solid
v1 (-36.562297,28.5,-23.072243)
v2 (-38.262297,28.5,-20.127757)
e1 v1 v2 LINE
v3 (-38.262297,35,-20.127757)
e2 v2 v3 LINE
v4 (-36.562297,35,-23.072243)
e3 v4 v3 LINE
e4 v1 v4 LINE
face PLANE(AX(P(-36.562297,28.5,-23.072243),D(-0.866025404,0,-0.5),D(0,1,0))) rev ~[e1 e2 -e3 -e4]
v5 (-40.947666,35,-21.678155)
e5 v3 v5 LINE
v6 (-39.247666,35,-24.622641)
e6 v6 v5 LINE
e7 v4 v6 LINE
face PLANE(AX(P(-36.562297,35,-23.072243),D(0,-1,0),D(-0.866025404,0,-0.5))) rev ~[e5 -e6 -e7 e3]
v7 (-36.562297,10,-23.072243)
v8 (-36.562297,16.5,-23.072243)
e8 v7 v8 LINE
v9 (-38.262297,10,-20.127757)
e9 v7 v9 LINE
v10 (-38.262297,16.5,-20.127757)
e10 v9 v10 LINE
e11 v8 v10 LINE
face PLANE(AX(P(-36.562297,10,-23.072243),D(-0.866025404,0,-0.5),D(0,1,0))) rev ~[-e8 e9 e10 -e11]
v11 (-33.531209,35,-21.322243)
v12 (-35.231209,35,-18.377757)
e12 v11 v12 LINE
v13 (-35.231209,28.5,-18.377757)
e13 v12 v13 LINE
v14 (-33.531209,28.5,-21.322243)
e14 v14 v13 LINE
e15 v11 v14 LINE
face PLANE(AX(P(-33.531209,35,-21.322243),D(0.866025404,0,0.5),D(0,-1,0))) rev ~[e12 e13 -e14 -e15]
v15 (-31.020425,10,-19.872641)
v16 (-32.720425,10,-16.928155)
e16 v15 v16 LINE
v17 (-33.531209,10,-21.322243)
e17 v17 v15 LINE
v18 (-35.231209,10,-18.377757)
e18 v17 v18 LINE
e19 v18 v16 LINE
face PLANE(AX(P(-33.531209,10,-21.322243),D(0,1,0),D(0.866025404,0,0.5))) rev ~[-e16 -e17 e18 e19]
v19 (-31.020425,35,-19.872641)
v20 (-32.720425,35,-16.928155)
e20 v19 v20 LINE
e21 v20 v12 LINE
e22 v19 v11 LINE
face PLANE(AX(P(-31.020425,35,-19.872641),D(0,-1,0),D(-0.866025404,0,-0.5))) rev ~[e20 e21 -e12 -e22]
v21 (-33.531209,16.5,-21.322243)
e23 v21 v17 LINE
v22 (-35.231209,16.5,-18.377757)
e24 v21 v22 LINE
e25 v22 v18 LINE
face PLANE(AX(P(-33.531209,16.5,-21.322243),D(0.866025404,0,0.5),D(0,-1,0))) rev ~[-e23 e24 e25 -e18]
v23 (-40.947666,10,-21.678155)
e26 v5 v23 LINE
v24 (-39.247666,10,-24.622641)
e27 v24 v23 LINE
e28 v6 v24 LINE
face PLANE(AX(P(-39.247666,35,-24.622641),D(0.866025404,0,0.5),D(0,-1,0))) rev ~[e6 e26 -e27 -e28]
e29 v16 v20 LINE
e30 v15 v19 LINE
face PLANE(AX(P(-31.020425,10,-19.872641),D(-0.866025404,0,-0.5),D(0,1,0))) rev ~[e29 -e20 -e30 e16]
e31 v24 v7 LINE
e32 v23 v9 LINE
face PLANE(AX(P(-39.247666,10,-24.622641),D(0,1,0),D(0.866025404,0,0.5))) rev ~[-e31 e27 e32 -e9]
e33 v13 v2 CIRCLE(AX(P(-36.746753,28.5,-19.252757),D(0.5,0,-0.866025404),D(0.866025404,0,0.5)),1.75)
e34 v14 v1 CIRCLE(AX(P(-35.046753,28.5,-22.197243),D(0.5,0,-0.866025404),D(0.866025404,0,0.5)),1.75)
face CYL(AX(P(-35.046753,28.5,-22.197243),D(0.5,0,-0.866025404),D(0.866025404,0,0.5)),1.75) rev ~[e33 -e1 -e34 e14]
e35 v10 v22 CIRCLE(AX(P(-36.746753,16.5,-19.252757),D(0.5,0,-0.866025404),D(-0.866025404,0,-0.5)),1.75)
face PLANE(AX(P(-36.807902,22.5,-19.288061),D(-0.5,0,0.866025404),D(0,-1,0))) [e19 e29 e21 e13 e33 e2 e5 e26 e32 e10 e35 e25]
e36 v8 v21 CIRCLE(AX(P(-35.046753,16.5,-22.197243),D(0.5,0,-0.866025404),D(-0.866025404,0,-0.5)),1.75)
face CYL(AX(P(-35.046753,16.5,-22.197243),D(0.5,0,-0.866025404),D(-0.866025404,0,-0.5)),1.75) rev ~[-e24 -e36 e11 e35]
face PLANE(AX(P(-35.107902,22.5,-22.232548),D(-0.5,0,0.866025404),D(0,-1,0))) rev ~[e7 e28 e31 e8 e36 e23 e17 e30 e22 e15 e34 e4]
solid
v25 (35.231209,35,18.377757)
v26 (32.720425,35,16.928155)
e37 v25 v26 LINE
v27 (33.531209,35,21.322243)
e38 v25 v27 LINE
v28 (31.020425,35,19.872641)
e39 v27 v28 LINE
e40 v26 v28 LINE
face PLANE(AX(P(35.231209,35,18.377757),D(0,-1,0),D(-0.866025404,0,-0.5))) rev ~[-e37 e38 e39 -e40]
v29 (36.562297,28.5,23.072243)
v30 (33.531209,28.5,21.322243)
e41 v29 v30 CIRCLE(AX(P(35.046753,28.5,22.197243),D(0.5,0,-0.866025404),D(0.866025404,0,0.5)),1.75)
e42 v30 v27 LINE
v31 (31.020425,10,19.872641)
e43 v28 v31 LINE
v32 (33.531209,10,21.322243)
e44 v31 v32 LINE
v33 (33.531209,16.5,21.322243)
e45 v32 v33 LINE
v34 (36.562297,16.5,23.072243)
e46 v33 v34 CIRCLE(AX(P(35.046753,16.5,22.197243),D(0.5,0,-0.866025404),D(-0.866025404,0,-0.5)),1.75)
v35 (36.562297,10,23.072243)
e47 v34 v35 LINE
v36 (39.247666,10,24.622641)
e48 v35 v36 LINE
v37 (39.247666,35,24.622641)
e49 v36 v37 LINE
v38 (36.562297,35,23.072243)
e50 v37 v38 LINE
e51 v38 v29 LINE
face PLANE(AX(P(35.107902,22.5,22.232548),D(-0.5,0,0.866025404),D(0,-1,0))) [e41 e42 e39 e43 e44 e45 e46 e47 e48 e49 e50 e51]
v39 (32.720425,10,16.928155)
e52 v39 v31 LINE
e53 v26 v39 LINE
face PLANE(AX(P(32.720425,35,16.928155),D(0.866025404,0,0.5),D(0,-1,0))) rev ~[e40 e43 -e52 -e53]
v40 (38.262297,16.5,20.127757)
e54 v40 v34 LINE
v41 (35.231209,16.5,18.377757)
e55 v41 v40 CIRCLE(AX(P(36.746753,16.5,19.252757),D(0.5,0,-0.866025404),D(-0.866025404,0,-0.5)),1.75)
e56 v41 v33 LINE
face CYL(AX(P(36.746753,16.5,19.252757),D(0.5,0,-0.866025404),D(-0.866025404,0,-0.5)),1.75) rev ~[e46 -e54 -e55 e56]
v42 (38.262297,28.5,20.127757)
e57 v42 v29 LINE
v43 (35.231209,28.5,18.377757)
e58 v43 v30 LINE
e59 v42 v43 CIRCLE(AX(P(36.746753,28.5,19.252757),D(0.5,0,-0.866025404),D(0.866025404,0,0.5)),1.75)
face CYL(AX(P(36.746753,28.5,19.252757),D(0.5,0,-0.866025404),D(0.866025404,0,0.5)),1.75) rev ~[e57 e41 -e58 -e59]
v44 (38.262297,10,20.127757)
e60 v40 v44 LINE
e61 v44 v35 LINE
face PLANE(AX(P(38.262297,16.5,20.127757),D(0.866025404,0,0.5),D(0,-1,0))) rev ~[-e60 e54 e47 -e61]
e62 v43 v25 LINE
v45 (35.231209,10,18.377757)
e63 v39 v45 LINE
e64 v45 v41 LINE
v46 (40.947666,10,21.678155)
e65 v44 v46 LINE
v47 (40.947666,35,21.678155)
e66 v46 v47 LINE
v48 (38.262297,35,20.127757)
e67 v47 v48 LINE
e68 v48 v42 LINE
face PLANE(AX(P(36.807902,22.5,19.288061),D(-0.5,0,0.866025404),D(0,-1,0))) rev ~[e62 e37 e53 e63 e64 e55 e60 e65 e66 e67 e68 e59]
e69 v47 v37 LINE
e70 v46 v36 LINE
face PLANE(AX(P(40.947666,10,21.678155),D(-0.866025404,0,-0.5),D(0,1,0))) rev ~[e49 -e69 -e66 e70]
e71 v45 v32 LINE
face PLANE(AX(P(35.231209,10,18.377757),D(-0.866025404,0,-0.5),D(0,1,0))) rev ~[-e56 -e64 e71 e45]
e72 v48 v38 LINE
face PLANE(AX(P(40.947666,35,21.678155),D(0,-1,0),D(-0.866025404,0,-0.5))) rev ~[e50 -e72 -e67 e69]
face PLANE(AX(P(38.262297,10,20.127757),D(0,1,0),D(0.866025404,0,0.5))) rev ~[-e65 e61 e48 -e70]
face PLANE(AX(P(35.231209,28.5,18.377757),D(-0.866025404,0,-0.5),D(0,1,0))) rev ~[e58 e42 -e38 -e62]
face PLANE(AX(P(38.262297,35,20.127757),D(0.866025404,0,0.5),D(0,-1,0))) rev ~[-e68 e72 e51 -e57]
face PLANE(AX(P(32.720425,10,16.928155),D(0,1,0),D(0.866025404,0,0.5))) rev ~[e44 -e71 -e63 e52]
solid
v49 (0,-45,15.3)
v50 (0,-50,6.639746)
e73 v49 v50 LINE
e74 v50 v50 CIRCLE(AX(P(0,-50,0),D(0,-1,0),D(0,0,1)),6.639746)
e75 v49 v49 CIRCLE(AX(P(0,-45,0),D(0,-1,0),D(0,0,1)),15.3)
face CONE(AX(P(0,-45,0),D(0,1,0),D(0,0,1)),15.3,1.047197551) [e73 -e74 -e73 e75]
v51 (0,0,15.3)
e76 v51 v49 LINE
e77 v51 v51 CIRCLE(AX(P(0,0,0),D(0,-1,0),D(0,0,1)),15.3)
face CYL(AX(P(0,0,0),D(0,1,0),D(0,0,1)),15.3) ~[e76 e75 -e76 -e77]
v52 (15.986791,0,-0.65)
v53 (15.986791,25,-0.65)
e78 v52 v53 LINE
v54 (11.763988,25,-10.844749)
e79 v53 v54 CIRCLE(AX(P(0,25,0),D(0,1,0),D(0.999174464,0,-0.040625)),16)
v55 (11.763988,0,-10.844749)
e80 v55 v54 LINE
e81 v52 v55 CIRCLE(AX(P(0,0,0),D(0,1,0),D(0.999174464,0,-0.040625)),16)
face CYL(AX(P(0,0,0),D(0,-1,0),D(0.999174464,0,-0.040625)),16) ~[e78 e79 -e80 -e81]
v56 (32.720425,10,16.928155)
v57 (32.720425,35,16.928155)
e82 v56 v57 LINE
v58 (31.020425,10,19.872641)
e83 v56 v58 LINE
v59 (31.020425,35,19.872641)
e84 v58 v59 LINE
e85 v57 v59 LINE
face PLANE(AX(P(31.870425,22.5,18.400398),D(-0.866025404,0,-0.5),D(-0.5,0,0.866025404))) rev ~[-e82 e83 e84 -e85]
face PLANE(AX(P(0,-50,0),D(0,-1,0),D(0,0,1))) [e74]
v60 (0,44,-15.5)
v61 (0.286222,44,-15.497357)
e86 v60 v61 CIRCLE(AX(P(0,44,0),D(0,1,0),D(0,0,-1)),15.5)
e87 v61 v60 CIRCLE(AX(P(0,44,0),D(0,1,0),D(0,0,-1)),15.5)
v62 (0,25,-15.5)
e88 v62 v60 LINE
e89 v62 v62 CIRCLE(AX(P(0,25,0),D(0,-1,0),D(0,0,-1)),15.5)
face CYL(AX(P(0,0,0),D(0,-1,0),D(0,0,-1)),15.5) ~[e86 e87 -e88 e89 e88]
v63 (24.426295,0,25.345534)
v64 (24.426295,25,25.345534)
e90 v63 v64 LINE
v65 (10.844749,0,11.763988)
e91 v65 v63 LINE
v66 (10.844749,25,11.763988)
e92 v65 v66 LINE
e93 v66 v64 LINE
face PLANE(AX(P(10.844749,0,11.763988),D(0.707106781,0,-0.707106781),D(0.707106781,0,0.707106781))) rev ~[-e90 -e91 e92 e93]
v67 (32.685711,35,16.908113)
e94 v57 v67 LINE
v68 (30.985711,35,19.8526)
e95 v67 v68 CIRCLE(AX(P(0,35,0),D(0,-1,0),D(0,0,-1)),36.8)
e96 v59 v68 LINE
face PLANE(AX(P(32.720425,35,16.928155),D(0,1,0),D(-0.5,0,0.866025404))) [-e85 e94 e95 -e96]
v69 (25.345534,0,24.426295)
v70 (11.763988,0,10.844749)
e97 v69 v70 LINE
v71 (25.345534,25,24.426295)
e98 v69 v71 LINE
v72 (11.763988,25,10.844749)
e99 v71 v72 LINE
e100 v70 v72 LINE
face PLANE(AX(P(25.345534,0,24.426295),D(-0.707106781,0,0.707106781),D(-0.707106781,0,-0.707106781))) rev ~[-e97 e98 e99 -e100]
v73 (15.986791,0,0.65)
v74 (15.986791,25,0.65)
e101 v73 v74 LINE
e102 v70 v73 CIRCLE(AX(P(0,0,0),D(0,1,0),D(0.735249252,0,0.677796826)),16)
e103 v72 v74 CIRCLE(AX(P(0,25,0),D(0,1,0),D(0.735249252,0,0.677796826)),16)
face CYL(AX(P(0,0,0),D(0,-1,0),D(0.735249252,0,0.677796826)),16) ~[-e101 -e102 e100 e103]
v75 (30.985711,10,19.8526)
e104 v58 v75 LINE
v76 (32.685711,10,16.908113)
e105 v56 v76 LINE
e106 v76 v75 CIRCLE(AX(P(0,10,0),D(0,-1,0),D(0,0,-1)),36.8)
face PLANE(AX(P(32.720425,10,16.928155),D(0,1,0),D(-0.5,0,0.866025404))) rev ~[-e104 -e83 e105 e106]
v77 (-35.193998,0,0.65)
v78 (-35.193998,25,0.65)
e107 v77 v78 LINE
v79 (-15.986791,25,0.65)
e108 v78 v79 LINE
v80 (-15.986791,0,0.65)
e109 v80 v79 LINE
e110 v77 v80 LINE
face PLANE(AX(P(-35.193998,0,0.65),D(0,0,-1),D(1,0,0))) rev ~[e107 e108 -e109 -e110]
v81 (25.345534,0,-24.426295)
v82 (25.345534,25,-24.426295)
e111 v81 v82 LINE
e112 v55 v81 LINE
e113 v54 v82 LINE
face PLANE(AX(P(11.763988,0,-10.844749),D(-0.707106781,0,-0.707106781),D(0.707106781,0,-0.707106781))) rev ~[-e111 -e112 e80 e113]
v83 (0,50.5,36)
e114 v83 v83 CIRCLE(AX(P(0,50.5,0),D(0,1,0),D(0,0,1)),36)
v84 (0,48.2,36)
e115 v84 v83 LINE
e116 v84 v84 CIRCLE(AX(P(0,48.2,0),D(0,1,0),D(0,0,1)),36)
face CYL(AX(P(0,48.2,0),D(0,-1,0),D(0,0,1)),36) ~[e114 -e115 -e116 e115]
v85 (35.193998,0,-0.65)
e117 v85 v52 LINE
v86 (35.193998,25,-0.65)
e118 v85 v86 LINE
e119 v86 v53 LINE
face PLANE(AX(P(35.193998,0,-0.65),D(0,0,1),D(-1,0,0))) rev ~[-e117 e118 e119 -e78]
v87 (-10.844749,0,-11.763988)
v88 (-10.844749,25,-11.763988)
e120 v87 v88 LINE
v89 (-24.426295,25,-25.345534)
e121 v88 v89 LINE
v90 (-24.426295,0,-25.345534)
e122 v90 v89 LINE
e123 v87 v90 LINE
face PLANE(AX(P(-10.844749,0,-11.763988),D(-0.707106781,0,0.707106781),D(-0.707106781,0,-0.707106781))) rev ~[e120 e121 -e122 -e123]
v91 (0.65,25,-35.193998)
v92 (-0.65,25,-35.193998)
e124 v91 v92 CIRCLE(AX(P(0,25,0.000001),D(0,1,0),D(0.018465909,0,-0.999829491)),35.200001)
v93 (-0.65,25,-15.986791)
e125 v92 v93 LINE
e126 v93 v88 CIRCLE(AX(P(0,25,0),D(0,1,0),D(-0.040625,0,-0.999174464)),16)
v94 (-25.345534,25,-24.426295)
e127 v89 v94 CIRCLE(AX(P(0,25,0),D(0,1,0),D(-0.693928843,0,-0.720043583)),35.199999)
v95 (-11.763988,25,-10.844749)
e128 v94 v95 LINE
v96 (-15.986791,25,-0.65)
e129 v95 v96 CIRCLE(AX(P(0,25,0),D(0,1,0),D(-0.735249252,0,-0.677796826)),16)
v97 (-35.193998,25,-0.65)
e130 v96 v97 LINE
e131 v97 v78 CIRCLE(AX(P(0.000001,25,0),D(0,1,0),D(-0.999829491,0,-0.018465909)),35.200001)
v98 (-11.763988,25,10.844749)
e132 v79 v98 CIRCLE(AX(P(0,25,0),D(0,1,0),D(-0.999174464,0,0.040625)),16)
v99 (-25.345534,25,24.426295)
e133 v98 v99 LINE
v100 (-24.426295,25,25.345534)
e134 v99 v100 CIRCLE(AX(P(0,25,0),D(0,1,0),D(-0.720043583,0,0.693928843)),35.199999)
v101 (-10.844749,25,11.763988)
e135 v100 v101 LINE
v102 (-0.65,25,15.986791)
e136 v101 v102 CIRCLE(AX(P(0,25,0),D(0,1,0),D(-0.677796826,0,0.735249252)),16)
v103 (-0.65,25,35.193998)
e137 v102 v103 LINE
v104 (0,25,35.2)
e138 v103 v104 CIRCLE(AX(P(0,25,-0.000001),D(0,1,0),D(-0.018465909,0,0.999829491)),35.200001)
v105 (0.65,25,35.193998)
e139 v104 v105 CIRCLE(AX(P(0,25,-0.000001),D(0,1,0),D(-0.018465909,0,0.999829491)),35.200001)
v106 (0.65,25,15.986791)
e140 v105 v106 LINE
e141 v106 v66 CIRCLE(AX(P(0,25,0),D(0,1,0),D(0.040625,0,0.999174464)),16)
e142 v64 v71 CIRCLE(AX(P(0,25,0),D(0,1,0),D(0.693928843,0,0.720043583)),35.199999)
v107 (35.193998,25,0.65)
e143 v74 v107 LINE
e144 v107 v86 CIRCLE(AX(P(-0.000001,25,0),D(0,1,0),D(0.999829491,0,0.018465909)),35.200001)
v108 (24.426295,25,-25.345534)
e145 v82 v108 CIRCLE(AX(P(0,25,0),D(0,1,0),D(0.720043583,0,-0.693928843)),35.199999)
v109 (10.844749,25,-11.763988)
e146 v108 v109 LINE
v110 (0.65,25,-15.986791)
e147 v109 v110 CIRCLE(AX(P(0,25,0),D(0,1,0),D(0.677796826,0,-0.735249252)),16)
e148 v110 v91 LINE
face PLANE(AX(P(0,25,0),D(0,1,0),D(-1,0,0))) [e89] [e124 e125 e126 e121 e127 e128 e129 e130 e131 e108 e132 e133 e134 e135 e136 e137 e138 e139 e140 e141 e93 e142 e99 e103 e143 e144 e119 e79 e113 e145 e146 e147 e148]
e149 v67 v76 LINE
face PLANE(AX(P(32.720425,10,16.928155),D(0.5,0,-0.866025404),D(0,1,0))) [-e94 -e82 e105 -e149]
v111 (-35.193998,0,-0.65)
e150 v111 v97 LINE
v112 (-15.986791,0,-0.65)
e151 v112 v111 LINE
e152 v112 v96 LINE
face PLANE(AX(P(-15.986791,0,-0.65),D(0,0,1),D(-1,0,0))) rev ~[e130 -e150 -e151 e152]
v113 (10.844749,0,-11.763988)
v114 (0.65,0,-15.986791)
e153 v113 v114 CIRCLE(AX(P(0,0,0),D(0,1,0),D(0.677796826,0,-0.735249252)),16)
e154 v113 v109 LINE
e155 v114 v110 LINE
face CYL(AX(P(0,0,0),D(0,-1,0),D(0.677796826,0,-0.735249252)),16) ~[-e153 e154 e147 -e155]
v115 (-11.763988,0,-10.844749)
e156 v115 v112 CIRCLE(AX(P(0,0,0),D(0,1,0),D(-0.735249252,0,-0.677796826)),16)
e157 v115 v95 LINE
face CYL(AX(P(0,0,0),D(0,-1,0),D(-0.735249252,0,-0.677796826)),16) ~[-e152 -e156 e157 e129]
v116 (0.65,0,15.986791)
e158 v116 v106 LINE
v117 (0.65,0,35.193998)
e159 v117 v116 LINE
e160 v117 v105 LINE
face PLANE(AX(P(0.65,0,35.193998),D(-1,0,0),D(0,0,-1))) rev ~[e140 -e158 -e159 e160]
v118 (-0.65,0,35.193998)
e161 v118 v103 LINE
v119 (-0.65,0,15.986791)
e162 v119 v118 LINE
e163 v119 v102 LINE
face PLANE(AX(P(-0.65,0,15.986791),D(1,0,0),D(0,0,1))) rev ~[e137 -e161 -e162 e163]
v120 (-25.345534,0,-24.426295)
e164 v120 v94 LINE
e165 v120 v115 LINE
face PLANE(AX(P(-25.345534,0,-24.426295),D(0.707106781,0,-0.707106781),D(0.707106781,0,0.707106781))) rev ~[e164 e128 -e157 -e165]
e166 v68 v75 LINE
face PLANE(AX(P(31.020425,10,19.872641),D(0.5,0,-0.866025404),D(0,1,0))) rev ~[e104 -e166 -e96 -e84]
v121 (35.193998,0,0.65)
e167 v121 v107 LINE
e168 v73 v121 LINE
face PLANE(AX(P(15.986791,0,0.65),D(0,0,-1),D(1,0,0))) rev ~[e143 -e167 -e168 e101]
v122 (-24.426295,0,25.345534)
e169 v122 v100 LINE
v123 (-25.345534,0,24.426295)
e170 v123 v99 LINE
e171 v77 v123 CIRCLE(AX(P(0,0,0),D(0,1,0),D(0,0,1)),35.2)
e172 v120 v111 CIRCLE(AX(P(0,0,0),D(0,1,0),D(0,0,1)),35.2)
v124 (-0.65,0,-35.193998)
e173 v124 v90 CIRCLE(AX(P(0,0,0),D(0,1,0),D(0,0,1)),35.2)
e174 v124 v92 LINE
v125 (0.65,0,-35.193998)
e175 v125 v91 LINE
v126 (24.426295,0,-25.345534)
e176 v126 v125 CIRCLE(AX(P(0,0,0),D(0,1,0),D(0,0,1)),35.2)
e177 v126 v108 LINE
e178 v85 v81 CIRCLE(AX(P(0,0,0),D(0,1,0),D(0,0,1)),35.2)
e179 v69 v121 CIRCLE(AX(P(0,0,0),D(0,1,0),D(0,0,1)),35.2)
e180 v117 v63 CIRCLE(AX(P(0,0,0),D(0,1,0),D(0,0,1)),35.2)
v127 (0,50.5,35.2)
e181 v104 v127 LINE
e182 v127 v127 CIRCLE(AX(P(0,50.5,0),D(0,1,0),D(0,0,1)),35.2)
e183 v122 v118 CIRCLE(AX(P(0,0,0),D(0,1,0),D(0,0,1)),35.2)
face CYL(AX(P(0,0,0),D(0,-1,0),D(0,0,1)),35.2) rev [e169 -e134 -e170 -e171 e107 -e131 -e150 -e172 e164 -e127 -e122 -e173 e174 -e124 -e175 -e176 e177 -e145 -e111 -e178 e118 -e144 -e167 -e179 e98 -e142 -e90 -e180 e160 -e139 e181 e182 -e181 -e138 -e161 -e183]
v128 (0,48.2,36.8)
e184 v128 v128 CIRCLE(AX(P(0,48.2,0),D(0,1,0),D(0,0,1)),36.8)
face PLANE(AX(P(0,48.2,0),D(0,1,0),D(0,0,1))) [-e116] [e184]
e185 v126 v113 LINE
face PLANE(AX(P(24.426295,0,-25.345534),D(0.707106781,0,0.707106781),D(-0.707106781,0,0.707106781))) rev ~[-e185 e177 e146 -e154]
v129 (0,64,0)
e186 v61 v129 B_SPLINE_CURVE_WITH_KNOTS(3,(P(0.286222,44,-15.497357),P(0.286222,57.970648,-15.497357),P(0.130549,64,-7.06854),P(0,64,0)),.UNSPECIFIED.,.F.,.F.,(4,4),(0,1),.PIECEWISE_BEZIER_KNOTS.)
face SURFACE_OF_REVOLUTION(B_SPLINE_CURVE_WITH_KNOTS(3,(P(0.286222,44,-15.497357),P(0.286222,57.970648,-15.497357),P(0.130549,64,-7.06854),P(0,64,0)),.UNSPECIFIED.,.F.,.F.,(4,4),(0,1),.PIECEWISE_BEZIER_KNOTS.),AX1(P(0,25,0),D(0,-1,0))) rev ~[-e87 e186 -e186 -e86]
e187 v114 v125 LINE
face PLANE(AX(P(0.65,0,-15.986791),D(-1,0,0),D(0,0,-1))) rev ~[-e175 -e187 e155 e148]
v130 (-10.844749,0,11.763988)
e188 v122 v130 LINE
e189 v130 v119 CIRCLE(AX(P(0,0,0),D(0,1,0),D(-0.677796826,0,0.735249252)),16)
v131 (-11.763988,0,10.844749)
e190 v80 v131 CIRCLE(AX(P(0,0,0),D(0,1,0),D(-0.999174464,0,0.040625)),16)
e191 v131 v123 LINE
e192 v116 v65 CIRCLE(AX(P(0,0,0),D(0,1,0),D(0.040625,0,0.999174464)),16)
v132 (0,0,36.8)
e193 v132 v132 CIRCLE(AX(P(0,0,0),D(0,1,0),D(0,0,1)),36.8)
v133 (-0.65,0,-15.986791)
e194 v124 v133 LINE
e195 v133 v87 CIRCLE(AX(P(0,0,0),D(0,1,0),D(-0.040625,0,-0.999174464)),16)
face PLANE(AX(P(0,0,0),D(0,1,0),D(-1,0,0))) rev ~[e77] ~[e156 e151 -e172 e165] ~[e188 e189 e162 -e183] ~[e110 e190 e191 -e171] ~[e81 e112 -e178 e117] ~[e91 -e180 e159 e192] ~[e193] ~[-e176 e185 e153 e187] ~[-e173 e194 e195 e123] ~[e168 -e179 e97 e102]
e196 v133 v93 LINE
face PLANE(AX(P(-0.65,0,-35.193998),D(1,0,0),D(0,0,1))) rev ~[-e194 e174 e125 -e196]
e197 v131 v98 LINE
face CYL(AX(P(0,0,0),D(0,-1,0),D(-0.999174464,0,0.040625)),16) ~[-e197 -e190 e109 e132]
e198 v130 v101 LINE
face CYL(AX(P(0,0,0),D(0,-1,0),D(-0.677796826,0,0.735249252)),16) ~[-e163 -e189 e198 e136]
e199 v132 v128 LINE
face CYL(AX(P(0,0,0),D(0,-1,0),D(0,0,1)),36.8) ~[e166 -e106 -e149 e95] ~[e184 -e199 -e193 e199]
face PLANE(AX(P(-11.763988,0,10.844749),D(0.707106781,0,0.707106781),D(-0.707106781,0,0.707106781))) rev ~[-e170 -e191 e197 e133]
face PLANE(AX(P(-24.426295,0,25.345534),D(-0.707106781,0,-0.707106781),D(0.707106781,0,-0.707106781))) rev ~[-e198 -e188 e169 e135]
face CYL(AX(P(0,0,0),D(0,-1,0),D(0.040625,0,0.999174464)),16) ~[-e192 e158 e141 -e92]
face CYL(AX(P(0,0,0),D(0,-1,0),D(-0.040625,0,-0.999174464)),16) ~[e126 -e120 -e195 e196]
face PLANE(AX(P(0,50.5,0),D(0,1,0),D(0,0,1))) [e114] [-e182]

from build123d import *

# Parameters (mm, degrees)
SKETCH1_R                  = 36.8
SKETCH1_R_2                = 35.2
BOSS_EXTRUDE1_DEPTH        = 50.5
SKETCH2_R                  = 15
BOSS_EXTRUDE2_DEPTH        = 25
BOSS_EXTRUDE3_DEPTH        = 1.7
BOSS_EXTRUDE3_DEPTH_BACK   = 1.7
BOSS_EXTRUDE3_2_DEPTH      = 1.7
BOSS_EXTRUDE3_2_DEPTH_BACK = 1.7
BOSS_EXTRUDE4_REACH        = 106.402
BOSS_EXTRUDE4_END_RADIUS   = 36.8
SKETCH4_W                  = 3.4
SKETCH4_H                  = 25
CUT_EXTRUDE1_START         = -2.3
SKETCH5_R                  = 36.8
SKETCH5_R_2                = 36
CUT_EXTRUDE1_DEPTH         = 2.3
SKETCH6_R                  = 15.3
BOSS_EXTRUDE5_DEPTH        = 50
CHAMFER1_SIZE              = 5
CHAMFER1_SIZE2             = 8.660254038
SKETCH7_R                  = 15.5
BOSS_EXTRUDE6_DEPTH        = 44


with BuildPart() as part:
    # Sketch1 → Boss-Extrude1 (new body)
    with BuildSketch(Plane(origin=(0, 0, 0), x_dir=(1, 0, 0), z_dir=(0, 1, 0))):
        Circle(SKETCH1_R)
        Circle(SKETCH1_R_2, mode=Mode.SUBTRACT)
    extrude(amount=BOSS_EXTRUDE1_DEPTH)

    # Sketch2 → Boss-Extrude2 (add)
    with BuildSketch(Plane.XZ):
        with BuildLine():
            Line((15.986791423, 0.65), (35.193998068, 0.65))
            ThreePointArc((35.193998068, 0.65), (35.2, 0), (35.193998068, -0.65))
            Line((35.193998068, -0.65), (15.986791423, -0.65))
            ThreePointArc((15.986791423, -0.65), (14.78207252, -6.122934918), (11.763988032, -10.844749217))
            Line((11.763988032, -10.844749217), (25.345534099, -24.426295283))
            ThreePointArc((25.345534099, -24.426295283), (24.890158698, -24.890158698), (24.426295283, -25.345534099))
            Line((24.426295283, -25.345534099), (10.844749217, -11.763988032))
            ThreePointArc((10.844749217, -11.763988032), (6.122934918, -14.78207252), (0.65, -15.986791423))
            Line((0.65, -15.986791423), (0.65, -35.193998068))
            ThreePointArc((0.65, -35.193998068), (0, -35.2), (-0.65, -35.193998068))
            Line((-0.65, -35.193998068), (-0.65, -15.986791423))
            ThreePointArc((-0.65, -15.986791423), (-6.122934918, -14.78207252), (-10.844749217, -11.763988032))
            Line((-10.844749217, -11.763988032), (-24.426295283, -25.345534099))
            ThreePointArc((-24.426295283, -25.345534099), (-24.890158698, -24.890158698), (-25.345534099, -24.426295283))
            Line((-25.345534099, -24.426295283), (-11.763988032, -10.844749217))
            ThreePointArc((-11.763988032, -10.844749217), (-14.78207252, -6.122934918), (-15.986791423, -0.65))
            Line((-15.986791423, -0.65), (-35.193998068, -0.65))
            ThreePointArc((-35.193998068, -0.65), (-35.2, 0), (-35.193998068, 0.65))
            Line((-35.193998068, 0.65), (-15.986791423, 0.65))
            ThreePointArc((-15.986791423, 0.65), (-14.78207252, 6.122934918), (-11.763988032, 10.844749217))
            Line((-11.763988032, 10.844749217), (-25.345534099, 24.426295283))
            ThreePointArc((-25.345534099, 24.426295283), (-24.890158698, 24.890158698), (-24.426295283, 25.345534099))
            Line((-24.426295283, 25.345534099), (-10.844749217, 11.763988032))
            ThreePointArc((-10.844749217, 11.763988032), (-6.122934918, 14.78207252), (-0.65, 15.986791423))
            Line((-0.65, 15.986791423), (-0.65, 35.193998068))
            ThreePointArc((-0.65, 35.193998068), (0, 35.2), (0.65, 35.193998068))
            Line((0.65, 35.193998068), (0.65, 15.986791423))
            ThreePointArc((0.65, 15.986791423), (6.122934918, 14.78207252), (10.844749217, 11.763988032))
            Line((10.844749217, 11.763988032), (24.426295283, 25.345534099))
            ThreePointArc((24.426295283, 25.345534099), (24.890158698, 24.890158698), (25.345534099, 24.426295283))
            Line((25.345534099, 24.426295283), (11.763988032, 10.844749217))
            ThreePointArc((11.763988032, 10.844749217), (14.78207252, 6.122934918), (15.986791423, 0.65))
        make_face()
        Circle(SKETCH2_R, mode=Mode.SUBTRACT)
    extrude(amount=-BOSS_EXTRUDE2_DEPTH)

    # Boss-Extrude4: up to this cylinder (the profile starts outside it)
    boss_extrude4_end = Plane(origin=(0, 22.5, 0), z_dir=(0, -1, 0)) * Cylinder(BOSS_EXTRUDE4_END_RADIUS, 287.404, mode=Mode.PRIVATE)
    # Sketch4 → Boss-Extrude4 (add, up to the surface)
    with BuildSketch(Plane(origin=(31.870424751, 0, 18.400398309), x_dir=(-0.500000000000001, 0, 0.8660254037844382), z_dir=(-0.8660254037844382, 0, -0.500000000000001)), mode=Mode.PRIVATE) as boss_extrude4_sk1:
        with Locations((0, 22.5)):
            Rectangle(SKETCH4_W, SKETCH4_H)
    boss_extrude4_tool1 = extrude(boss_extrude4_sk1.sketch, amount=BOSS_EXTRUDE4_REACH, mode=Mode.PRIVATE) - boss_extrude4_end
    add(boss_extrude4_tool1.solids().sort_by_distance((31.870425, 22.5, 18.400398))[0])

    # Sketch5 → Cut-Extrude1 (cut)
    with BuildSketch(Plane(origin=(0, 50.5, 0), x_dir=(1, 0, 0), z_dir=(0, 1, 0)).offset(CUT_EXTRUDE1_START)):
        Circle(SKETCH5_R)
        Circle(SKETCH5_R_2, mode=Mode.SUBTRACT)
    extrude(amount=CUT_EXTRUDE1_DEPTH, mode=Mode.SUBTRACT)

    # Sketch6 → Boss-Extrude5 (add)
    with BuildSketch(Plane.XZ):
        Circle(SKETCH6_R)
    extrude(amount=BOSS_EXTRUDE5_DEPTH)

    # Chamfer1
    chamfer1_edges = [part.edges().sort_by_distance(p)[0] for p in [
        (-15.3, -50, 0),
    ]]
    chamfer1_side = [part.faces().sort_by_distance(p)[0] for p in [
        (-15.3, -25, 0),
    ]]
    chamfer(chamfer1_edges, length=CHAMFER1_SIZE, length2=CHAMFER1_SIZE2, reference=chamfer1_side[0])

    # Sketch7 → Boss-Extrude6 (add)
    with BuildSketch(Plane(origin=(0, 0, 0), x_dir=(1, 0, 0), z_dir=(0, 1, 0))):
        Circle(SKETCH7_R)
    extrude(amount=BOSS_EXTRUDE6_DEPTH)

    # Sketch8 → Revolve2 (revolve)
    with BuildSketch(Plane(origin=(0, 0, 0), x_dir=(0, -1, 0), z_dir=(-0.500000000000001, 0, 0.866025403784438))):
        with BuildLine():
            Line((-44, 15.5), (-44, 0))
            Line((-44, 0), (-64, 0))
            add(Edge.make_bspline(
                [(-44, 15.5), (-57.970648209, 15.5), (-64, 7.069745011), (-64, 0)],
                knots=[0, 0, 0, 0, 1, 1, 1, 1], degree=3))
        make_face()
    revolve(axis=Axis((0, 25, 0), (0, -1, 0)))


with BuildPart() as body_2:
    # Sketch3 → Boss-Extrude3 (new, two sides: drawn at the far end of the back side and taken through both)
    with BuildSketch(Plane(origin=(0, 0, 0), x_dir=(0, -1, 0), z_dir=(-0.500000000000001, 0, 0.866025403784438)).offset(-BOSS_EXTRUDE3_DEPTH_BACK)):
        with BuildLine():
            Line((-35, 36.800796618), (-10, 36.800796618))
            Line((-10, 36.800796618), (-10, 39.7))
            Line((-10, 39.7), (-16.5, 39.7))
            ThreePointArc((-16.5, 39.7), (-18.25, 41.45), (-16.5, 43.2))
            Line((-16.5, 43.2), (-10, 43.2))
            Line((-10, 43.2), (-10, 46.300796618))
            Line((-10, 46.300796618), (-35, 46.300796618))
            Line((-35, 46.300796618), (-35, 43.2))
            Line((-35, 43.2), (-28.5, 43.2))
            ThreePointArc((-28.5, 43.2), (-26.75, 41.45), (-28.5, 39.7))
            Line((-28.5, 39.7), (-35, 39.7))
            Line((-35, 39.7), (-35, 36.800796618))
        make_face()
    extrude(amount=BOSS_EXTRUDE3_DEPTH + BOSS_EXTRUDE3_DEPTH_BACK)


with BuildPart() as body_3:
    # Sketch3 → Boss-Extrude3 2 (new, two sides: drawn at the far end of the back side and taken through both)
    with BuildSketch(Plane(origin=(0, 0, 0), x_dir=(0, -1, 0), z_dir=(-0.500000000000001, 0, 0.866025403784438)).offset(-BOSS_EXTRUDE3_2_DEPTH_BACK)):
        with BuildLine():
            Line((-16.5, -39.7), (-10, -39.7))
            Line((-10, -39.7), (-10, -36.800796618))
            Line((-10, -36.800796618), (-35, -36.800796618))
            Line((-35, -36.800796618), (-35, -39.7))
            Line((-35, -39.7), (-28.5, -39.7))
            ThreePointArc((-28.5, -39.7), (-26.75, -41.45), (-28.5, -43.2))
            Line((-28.5, -43.2), (-35, -43.2))
            Line((-35, -43.2), (-35, -46.300796618))
            Line((-35, -46.300796618), (-10, -46.300796618))
            Line((-10, -46.300796618), (-10, -43.2))
            Line((-10, -43.2), (-16.5, -43.2))
            ThreePointArc((-16.5, -43.2), (-18.25, -41.45), (-16.5, -39.7))
        make_face()
    extrude(amount=BOSS_EXTRUDE3_2_DEPTH + BOSS_EXTRUDE3_2_DEPTH_BACK)


solid = Compound([part.part, body_2.part, body_3.part])
